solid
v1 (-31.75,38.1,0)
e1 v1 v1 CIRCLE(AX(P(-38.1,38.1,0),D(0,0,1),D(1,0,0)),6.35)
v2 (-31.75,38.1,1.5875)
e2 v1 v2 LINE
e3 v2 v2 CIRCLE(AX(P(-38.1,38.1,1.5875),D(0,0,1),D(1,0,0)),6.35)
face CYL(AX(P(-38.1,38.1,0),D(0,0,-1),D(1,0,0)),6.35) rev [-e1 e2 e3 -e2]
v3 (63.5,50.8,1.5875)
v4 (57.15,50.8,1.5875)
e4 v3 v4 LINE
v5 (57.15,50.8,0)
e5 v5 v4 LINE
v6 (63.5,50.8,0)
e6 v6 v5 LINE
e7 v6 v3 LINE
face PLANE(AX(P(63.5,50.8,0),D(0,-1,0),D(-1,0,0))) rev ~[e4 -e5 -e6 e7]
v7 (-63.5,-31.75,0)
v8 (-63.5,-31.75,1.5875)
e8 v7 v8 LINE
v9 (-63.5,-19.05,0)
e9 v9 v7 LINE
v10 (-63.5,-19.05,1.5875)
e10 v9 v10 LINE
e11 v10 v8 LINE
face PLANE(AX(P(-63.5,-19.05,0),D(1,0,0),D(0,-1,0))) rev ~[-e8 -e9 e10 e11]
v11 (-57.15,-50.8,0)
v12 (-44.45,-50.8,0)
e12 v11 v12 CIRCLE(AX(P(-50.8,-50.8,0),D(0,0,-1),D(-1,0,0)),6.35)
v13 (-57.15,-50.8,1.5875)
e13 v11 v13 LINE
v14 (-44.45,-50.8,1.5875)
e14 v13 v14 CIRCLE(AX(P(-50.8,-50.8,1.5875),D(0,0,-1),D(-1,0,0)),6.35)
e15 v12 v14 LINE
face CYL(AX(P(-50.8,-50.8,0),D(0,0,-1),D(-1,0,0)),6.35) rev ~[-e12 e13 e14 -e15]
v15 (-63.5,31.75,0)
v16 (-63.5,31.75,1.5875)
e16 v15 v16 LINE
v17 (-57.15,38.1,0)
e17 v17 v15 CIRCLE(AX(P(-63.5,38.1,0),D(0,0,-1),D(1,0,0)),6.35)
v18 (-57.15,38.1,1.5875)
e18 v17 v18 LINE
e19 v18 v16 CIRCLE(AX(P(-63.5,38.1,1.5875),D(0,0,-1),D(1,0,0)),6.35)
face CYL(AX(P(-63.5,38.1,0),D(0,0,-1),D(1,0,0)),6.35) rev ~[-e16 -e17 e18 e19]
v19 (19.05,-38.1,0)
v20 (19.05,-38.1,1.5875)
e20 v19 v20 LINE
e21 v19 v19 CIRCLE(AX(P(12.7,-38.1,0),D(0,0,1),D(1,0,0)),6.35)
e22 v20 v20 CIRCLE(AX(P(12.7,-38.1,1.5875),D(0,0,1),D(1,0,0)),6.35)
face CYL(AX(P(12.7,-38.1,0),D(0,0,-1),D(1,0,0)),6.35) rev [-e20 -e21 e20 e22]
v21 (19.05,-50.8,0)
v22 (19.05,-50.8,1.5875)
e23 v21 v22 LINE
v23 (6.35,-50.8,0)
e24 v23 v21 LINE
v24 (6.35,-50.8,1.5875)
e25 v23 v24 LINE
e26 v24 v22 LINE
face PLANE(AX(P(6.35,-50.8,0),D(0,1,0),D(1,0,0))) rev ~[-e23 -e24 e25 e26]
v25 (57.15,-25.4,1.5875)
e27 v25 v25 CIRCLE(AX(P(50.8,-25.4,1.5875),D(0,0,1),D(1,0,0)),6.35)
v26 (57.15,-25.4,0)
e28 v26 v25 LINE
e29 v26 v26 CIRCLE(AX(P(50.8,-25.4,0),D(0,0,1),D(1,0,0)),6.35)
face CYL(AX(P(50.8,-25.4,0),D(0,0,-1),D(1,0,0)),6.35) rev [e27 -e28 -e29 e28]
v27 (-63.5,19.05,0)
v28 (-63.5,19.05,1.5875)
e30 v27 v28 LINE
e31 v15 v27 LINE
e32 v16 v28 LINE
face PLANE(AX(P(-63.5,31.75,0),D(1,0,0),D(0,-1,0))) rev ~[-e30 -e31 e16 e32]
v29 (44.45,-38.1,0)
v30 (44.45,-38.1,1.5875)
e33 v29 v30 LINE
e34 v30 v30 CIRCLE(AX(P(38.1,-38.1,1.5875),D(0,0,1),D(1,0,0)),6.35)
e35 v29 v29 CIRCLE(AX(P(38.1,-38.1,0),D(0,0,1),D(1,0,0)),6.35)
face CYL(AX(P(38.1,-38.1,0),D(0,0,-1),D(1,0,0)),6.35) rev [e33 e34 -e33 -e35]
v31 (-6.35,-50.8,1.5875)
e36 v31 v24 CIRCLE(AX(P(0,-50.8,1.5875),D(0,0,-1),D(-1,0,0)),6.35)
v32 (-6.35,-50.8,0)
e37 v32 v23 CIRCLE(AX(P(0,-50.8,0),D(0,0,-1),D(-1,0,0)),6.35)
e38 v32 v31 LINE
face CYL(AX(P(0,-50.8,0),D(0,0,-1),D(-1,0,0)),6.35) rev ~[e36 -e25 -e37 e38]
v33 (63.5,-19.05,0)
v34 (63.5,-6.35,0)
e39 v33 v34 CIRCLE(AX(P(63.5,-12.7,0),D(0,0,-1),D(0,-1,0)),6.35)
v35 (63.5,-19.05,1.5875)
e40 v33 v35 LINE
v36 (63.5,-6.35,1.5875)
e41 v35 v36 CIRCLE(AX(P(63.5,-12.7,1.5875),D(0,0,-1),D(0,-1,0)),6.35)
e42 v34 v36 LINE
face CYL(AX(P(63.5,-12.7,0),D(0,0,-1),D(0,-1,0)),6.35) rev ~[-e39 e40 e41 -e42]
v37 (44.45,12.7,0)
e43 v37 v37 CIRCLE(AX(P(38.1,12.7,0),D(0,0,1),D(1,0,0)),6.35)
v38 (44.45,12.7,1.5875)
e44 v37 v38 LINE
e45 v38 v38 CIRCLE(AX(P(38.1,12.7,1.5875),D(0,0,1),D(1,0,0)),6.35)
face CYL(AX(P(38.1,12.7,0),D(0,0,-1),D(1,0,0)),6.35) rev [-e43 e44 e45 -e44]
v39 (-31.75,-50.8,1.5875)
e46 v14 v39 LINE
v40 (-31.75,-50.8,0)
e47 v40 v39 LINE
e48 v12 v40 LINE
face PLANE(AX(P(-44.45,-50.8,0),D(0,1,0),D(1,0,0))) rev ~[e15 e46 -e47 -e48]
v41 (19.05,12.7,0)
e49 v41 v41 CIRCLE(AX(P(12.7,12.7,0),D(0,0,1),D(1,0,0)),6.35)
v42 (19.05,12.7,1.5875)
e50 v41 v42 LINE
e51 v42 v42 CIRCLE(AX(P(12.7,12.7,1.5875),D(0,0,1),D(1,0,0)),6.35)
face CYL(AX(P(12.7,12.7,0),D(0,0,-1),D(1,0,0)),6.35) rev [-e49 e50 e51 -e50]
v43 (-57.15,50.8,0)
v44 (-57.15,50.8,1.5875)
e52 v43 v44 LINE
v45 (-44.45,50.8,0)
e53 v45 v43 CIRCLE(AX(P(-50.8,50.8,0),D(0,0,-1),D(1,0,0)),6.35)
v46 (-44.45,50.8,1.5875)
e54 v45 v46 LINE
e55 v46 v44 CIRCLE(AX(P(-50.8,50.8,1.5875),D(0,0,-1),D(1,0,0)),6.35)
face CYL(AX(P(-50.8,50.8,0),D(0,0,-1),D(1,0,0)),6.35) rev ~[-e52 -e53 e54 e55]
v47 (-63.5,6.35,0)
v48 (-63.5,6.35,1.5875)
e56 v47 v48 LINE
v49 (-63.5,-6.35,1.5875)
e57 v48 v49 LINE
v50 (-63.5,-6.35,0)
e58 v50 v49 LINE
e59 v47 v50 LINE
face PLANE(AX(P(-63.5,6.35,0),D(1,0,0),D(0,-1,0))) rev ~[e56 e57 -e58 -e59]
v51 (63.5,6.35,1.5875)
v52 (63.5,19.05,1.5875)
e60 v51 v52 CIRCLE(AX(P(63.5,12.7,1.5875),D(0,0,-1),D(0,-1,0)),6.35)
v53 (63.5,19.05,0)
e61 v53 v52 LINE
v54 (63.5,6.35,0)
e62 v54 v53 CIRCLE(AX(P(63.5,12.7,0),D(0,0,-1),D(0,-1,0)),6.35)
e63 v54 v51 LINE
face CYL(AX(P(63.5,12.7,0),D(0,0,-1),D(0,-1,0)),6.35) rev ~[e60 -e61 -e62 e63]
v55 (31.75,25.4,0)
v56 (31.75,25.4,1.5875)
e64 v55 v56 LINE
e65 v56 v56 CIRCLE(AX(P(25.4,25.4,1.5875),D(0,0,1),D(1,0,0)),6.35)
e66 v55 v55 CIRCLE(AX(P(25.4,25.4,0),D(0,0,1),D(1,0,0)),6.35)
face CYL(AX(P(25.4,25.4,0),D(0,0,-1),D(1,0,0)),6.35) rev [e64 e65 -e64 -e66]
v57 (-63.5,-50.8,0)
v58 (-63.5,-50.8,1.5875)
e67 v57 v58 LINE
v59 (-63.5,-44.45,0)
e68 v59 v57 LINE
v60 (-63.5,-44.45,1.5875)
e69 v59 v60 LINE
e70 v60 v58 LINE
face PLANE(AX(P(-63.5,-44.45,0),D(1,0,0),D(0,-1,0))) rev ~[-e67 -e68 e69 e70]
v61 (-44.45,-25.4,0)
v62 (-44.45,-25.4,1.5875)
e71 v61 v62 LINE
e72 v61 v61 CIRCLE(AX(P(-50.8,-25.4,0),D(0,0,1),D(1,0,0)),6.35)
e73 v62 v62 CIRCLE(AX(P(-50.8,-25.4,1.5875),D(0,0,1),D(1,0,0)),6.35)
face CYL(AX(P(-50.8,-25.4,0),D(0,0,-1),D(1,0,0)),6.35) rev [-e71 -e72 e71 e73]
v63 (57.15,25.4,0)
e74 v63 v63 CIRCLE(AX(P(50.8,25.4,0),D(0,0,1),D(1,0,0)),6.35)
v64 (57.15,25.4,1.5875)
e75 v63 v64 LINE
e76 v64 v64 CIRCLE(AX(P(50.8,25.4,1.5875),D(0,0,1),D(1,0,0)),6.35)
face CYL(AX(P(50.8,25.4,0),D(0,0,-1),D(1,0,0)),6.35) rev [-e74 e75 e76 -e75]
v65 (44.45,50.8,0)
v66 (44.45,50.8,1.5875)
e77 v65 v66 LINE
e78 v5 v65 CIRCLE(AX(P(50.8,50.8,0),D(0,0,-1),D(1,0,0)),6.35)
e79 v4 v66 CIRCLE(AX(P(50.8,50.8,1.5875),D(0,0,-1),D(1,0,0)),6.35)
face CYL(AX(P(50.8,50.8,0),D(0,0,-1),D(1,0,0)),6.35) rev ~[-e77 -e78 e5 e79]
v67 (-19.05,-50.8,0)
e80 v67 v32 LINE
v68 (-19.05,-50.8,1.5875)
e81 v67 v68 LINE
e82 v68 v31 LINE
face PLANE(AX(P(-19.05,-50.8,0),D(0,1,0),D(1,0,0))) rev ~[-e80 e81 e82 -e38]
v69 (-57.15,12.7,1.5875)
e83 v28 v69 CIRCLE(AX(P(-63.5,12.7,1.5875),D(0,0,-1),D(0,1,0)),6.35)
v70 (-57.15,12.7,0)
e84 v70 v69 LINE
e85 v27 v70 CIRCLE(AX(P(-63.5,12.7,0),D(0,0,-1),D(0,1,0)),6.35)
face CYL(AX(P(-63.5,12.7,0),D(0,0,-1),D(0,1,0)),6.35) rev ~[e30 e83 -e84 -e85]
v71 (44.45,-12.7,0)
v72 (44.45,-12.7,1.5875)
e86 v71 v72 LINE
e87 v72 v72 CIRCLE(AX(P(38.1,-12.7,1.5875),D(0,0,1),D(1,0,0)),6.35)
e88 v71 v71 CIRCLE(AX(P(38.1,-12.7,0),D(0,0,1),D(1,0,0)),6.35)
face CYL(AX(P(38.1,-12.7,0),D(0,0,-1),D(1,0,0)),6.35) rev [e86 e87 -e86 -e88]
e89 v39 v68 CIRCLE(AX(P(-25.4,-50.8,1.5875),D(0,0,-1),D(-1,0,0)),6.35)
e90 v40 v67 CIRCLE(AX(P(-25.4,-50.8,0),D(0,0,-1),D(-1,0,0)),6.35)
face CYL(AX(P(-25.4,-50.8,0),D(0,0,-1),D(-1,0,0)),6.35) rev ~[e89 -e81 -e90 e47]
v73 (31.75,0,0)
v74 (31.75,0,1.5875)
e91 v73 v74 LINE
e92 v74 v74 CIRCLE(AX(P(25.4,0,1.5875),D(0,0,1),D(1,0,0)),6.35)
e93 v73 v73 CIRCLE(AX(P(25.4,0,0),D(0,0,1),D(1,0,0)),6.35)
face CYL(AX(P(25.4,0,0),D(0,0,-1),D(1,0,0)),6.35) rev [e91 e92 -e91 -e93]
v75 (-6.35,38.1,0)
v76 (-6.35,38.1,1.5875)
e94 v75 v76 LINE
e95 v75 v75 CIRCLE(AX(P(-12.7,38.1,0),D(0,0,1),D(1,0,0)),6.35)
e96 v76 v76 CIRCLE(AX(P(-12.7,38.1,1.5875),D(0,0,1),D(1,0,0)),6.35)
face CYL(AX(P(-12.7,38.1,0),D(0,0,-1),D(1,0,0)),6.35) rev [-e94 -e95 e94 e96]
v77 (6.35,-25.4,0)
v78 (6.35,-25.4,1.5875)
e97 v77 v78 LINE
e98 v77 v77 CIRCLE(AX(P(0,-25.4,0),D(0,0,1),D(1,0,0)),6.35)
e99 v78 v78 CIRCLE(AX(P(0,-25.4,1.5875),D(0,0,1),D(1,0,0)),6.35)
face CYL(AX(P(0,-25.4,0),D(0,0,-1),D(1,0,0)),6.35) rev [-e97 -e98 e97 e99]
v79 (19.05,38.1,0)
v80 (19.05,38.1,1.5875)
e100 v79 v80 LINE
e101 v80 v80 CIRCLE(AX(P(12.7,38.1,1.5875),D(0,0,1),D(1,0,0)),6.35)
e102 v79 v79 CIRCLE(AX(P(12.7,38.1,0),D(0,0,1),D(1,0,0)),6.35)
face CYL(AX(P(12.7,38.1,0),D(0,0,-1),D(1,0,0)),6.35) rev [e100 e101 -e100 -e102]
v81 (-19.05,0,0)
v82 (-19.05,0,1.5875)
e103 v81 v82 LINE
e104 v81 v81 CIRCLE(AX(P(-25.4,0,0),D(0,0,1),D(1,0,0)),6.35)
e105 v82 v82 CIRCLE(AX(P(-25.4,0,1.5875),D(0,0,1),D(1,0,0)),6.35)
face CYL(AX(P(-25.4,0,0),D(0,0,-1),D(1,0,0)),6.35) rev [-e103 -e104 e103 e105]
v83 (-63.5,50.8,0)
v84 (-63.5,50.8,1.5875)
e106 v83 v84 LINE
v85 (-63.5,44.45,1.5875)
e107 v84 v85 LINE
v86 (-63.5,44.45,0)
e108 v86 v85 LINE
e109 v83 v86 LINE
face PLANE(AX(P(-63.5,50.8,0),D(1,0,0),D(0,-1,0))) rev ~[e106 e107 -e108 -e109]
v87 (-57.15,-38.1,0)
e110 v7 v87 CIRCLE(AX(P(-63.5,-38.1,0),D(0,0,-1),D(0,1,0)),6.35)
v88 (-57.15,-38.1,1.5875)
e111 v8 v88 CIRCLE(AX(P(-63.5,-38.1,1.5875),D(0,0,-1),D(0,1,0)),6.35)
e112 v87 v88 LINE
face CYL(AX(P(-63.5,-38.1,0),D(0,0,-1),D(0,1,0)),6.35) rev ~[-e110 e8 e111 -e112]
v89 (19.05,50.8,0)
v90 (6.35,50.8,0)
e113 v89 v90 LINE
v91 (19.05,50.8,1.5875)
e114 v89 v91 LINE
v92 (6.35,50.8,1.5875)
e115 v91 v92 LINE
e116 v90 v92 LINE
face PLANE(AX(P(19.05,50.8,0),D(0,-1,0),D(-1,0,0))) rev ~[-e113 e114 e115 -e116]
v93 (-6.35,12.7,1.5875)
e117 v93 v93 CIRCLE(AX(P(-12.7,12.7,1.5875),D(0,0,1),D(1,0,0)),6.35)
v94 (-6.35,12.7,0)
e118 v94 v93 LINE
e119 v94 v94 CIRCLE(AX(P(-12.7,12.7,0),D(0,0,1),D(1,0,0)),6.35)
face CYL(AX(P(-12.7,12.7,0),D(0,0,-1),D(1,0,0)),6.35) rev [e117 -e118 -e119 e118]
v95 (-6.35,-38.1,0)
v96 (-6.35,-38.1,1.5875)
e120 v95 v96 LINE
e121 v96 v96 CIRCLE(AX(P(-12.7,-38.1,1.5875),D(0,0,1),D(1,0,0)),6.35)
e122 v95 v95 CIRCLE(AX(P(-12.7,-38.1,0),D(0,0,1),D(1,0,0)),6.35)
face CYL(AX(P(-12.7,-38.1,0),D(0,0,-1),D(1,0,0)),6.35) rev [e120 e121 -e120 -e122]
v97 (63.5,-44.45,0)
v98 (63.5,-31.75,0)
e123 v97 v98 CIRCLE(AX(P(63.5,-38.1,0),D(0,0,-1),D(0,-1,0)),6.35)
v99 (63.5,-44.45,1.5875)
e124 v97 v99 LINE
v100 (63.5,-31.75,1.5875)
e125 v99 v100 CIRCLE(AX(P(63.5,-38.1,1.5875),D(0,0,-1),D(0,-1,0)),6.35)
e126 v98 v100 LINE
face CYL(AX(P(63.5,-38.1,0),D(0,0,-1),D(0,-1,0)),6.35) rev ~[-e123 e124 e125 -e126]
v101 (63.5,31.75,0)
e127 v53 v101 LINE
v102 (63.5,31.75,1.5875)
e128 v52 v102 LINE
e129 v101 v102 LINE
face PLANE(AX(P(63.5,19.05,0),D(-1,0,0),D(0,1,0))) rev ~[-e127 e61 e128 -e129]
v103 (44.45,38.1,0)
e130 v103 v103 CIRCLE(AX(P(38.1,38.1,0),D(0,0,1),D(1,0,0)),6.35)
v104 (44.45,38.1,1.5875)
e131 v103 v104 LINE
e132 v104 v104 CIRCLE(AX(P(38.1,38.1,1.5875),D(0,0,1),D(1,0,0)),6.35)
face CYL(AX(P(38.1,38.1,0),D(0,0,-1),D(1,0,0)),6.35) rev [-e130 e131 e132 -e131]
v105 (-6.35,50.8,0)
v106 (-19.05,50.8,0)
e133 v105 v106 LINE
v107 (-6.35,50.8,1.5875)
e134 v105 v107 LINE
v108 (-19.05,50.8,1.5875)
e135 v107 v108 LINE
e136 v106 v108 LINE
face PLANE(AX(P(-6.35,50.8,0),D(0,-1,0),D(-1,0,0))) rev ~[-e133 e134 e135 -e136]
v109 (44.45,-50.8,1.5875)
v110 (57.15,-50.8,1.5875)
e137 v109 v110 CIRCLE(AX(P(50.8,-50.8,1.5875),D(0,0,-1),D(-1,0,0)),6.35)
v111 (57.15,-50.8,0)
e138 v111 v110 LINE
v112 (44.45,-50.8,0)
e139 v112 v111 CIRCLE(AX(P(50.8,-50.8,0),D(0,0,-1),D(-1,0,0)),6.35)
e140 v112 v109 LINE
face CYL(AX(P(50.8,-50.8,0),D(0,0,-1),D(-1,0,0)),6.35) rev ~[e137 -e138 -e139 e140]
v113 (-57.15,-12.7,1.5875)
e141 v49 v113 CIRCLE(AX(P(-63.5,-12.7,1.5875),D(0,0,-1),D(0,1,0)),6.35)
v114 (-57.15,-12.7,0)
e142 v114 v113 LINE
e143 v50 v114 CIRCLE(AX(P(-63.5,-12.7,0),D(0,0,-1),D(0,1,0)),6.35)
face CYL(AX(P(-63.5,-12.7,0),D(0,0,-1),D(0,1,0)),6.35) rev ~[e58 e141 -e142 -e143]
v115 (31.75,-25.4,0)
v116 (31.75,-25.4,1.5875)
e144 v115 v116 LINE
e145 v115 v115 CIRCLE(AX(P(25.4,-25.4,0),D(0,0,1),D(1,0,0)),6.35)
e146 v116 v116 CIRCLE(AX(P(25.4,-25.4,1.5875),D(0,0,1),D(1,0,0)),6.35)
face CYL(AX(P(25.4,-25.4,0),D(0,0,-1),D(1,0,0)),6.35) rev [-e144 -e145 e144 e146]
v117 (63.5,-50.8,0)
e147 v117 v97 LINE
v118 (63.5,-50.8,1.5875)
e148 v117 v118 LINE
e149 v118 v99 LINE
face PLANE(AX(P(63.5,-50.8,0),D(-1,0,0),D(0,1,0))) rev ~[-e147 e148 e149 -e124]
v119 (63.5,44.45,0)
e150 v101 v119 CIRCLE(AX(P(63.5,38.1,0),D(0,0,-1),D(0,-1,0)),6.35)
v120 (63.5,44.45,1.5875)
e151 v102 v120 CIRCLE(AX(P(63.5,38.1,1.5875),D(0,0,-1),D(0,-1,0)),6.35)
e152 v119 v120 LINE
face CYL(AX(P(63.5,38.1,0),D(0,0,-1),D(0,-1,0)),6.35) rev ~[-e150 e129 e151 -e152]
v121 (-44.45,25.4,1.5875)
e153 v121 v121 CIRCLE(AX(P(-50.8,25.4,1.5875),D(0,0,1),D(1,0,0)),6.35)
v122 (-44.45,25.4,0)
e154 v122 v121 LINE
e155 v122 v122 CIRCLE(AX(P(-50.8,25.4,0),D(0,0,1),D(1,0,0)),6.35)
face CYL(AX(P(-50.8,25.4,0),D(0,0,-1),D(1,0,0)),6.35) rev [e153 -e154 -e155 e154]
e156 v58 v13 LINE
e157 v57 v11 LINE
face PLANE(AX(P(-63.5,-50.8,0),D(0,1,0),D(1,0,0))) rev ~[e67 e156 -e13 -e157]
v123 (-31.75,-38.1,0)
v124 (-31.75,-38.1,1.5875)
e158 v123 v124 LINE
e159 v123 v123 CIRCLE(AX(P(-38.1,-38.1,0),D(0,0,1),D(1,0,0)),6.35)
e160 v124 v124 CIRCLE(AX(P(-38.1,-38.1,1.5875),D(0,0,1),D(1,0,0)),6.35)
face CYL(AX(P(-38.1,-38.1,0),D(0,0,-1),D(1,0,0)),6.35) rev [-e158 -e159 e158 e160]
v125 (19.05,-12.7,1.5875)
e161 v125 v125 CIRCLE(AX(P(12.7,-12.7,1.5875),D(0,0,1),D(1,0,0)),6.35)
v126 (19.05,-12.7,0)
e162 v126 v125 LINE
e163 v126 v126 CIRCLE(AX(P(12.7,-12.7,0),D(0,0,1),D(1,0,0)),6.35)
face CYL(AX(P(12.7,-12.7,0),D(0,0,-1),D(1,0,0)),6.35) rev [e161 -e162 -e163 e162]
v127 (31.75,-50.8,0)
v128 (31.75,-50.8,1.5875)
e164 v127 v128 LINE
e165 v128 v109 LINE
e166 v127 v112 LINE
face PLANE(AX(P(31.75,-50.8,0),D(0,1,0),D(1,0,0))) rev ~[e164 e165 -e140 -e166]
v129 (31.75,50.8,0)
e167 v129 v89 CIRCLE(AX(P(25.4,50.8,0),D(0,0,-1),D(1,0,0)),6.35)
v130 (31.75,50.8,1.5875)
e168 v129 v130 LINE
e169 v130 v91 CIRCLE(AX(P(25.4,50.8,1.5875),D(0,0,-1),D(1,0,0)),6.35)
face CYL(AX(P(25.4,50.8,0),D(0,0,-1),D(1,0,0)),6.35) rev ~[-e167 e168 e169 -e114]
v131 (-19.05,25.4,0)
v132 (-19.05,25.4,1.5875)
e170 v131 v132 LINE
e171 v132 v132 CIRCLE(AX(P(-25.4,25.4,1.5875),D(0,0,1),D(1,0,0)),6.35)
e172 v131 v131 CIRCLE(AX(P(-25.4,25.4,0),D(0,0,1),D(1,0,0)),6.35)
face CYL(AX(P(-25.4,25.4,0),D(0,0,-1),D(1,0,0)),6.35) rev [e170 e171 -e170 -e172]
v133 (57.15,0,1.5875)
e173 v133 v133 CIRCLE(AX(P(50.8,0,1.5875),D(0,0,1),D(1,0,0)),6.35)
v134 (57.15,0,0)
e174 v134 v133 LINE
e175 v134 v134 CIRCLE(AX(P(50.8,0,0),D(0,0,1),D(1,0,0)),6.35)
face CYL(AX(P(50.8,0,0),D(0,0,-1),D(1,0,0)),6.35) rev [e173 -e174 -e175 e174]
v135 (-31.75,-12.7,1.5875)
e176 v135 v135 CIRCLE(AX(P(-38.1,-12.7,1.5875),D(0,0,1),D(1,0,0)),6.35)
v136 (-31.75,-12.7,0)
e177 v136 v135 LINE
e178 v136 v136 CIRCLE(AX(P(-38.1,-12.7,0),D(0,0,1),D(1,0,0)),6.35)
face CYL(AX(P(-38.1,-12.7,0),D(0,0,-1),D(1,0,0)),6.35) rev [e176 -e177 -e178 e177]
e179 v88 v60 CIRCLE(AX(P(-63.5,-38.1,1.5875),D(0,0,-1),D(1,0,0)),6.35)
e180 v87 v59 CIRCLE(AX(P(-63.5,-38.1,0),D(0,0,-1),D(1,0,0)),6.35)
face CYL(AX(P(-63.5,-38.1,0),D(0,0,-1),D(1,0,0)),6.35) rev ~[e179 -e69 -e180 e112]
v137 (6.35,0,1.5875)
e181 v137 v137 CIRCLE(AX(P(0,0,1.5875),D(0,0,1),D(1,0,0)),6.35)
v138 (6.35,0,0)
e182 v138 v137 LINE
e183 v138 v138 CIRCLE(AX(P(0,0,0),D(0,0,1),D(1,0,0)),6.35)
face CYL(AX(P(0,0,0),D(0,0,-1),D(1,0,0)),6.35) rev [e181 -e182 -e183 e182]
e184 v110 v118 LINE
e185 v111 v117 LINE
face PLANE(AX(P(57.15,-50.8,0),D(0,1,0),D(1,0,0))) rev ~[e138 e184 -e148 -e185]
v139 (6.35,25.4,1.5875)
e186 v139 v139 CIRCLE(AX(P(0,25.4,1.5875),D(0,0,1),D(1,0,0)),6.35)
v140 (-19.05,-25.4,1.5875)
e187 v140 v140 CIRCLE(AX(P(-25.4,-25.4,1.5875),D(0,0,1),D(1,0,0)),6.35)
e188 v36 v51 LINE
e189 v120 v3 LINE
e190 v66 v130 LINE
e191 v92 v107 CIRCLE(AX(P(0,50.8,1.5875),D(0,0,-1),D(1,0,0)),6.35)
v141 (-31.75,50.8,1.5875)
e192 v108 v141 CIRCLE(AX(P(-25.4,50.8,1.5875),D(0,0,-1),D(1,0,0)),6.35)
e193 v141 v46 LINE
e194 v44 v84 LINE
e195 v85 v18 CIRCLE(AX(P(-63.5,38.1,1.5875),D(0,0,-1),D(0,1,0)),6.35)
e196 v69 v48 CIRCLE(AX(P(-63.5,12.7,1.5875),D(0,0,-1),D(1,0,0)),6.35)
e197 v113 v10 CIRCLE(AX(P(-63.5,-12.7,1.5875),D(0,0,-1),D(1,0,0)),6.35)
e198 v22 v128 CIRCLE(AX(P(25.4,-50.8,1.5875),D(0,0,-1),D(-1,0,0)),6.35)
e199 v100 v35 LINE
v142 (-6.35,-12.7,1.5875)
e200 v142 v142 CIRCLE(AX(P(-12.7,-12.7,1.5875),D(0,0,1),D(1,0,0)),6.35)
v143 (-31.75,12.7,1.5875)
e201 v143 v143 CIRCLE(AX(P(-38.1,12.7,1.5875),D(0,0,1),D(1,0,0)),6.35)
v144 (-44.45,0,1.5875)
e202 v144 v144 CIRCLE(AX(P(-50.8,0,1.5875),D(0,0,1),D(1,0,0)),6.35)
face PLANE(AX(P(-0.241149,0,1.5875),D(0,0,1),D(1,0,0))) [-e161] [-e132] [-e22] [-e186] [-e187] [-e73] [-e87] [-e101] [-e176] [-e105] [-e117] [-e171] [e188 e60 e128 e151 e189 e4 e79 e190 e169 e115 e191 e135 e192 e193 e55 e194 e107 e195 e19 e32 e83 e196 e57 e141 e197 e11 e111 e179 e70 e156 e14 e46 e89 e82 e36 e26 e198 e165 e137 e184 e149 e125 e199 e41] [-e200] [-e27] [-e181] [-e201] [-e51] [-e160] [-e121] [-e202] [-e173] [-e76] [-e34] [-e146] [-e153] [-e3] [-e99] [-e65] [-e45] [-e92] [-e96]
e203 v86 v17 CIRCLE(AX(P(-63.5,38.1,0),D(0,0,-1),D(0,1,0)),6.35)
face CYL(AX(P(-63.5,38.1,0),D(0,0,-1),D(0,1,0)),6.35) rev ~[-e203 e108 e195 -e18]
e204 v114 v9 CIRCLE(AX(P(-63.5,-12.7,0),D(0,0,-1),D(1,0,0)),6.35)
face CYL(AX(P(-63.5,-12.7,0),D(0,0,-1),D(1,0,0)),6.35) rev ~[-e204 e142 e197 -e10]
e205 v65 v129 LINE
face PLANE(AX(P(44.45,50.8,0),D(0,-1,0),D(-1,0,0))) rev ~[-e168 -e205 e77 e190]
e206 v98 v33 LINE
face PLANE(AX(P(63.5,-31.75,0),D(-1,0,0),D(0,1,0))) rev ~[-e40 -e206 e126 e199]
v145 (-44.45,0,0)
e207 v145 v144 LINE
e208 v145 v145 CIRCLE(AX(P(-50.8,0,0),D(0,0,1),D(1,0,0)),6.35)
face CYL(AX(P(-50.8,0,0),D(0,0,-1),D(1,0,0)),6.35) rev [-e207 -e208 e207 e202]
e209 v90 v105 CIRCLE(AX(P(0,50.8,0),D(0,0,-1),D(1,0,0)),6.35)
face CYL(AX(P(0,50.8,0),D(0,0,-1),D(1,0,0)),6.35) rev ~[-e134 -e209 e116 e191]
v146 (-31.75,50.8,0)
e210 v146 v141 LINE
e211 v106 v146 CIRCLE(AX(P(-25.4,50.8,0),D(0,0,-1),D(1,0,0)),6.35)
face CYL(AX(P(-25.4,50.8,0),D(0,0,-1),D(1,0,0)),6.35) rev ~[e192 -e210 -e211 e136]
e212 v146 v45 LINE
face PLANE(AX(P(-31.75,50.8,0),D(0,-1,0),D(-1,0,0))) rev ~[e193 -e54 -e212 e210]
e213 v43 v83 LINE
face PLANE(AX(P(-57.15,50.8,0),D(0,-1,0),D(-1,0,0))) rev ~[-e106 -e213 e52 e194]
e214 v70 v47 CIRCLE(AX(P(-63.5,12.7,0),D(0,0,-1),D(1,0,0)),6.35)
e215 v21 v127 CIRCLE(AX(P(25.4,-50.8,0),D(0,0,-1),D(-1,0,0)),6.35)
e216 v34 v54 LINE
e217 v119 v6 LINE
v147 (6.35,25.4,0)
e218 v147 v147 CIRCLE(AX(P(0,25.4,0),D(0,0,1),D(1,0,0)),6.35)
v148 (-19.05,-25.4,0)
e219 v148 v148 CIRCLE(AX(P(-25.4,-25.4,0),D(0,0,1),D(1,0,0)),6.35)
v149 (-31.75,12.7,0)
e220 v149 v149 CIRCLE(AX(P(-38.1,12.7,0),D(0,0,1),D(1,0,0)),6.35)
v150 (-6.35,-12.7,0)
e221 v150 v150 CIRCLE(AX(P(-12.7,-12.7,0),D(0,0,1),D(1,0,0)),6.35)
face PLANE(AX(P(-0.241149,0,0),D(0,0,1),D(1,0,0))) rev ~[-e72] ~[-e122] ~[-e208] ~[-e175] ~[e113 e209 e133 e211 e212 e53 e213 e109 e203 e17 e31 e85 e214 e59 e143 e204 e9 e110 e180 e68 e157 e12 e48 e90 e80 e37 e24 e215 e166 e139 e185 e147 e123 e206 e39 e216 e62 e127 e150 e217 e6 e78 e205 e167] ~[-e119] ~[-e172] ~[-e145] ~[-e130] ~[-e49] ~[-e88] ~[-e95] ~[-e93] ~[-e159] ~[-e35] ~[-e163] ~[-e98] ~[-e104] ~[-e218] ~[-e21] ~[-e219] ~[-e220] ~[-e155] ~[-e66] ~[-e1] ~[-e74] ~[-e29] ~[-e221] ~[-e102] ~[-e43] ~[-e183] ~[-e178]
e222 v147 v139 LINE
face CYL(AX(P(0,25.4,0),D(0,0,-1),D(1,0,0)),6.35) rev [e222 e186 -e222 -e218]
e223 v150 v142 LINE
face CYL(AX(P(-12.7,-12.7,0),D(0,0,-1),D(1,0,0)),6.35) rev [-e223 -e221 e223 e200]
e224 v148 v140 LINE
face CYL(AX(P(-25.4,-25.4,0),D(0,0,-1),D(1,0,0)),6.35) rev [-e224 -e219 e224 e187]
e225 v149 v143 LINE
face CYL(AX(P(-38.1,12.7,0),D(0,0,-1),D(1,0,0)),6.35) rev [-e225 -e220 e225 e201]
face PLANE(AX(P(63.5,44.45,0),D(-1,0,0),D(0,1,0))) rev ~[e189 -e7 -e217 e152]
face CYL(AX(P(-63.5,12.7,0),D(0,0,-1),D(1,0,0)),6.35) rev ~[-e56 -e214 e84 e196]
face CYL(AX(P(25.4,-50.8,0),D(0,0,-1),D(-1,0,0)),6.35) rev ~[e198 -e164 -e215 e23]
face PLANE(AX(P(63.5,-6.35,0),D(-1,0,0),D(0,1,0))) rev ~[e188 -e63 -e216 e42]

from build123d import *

# Parameters (mm, degrees)
F0_R     = 6.35
F1_DEPTH = 1.5875


with BuildPart() as f1:
    # F0 (on Top) → F1 (new body)
    with BuildSketch(Plane.XY):
        with BuildLine():
            ThreePointArc((44.45, -50.8), (50.8, -44.45), (57.15, -50.8))
            Line((57.15, -50.8), (63.5, -50.8))
            Line((63.5, -50.8), (63.5, -44.45))
            ThreePointArc((63.5, -44.45), (57.15, -38.1), (63.5, -31.75))
            Line((63.5, -31.75), (63.5, -19.05))
            ThreePointArc((63.5, -19.05), (57.15, -12.7), (63.5, -6.35))
            Line((63.5, -6.35), (63.5, 6.35))
            ThreePointArc((63.5, 6.35), (57.15, 12.7), (63.5, 19.05))
            Line((63.5, 19.05), (63.5, 31.75))
            ThreePointArc((63.5, 31.75), (57.15, 38.1), (63.5, 44.45))
            Line((63.5, 44.45), (63.5, 50.8))
            Line((63.5, 50.8), (57.15, 50.8))
            ThreePointArc((57.15, 50.8), (50.8, 44.45), (44.45, 50.8))
            Line((44.45, 50.8), (31.75, 50.8))
            ThreePointArc((31.75, 50.8), (25.4, 44.45), (19.05, 50.8))
            Line((19.05, 50.8), (6.35, 50.8))
            ThreePointArc((6.35, 50.8), (0, 44.45), (-6.35, 50.8))
            Line((-6.35, 50.8), (-19.05, 50.8))
            ThreePointArc((-19.05, 50.8), (-25.4, 44.45), (-31.75, 50.8))
            Line((-31.75, 50.8), (-44.45, 50.8))
            ThreePointArc((-44.45, 50.8), (-50.8, 44.45), (-57.15, 50.8))
            Line((-57.15, 50.8), (-63.5, 50.8))
            Line((-63.5, 50.8), (-63.5, 44.45))
            ThreePointArc((-63.5, 44.45), (-59.0098719395, 42.5901280605), (-57.15, 38.1))
            ThreePointArc((-57.15, 38.1), (-59.0098719395, 33.6098719395), (-63.5, 31.75))
            Line((-63.5, 31.75), (-63.5, 19.05))
            ThreePointArc((-63.5, 19.05), (-59.0098719395, 17.1901280605), (-57.15, 12.7))
            ThreePointArc((-57.15, 12.7), (-59.0098719395, 8.2098719395), (-63.5, 6.35))
            Line((-63.5, 6.35), (-63.5, -6.35))
            ThreePointArc((-63.5, -6.35), (-59.0098719395, -8.2098719395), (-57.15, -12.7))
            ThreePointArc((-57.15, -12.7), (-59.0098719395, -17.1901280605), (-63.5, -19.05))
            Line((-63.5, -19.05), (-63.5, -31.75))
            ThreePointArc((-63.5, -31.75), (-59.0098719395, -33.6098719395), (-57.15, -38.1))
            ThreePointArc((-57.15, -38.1), (-59.0098719395, -42.5901280605), (-63.5, -44.45))
            Line((-63.5, -44.45), (-63.5, -50.8))
            Line((-63.5, -50.8), (-57.15, -50.8))
            ThreePointArc((-57.15, -50.8), (-50.8, -44.45), (-44.45, -50.8))
            Line((-44.45, -50.8), (-31.75, -50.8))
            ThreePointArc((-31.75, -50.8), (-25.4, -44.45), (-19.05, -50.8))
            Line((-19.05, -50.8), (-6.35, -50.8))
            ThreePointArc((-6.35, -50.8), (0, -44.45), (6.35, -50.8))
            Line((6.35, -50.8), (19.05, -50.8))
            ThreePointArc((19.05, -50.8), (25.4, -44.45), (31.75, -50.8))
            Line((31.75, -50.8), (44.45, -50.8))
        make_face()
        with Locations((-38.1, -38.1)):
            Circle(F0_R, mode=Mode.SUBTRACT)
        with Locations((-12.7, -38.1)):
            Circle(F0_R, mode=Mode.SUBTRACT)
        with Locations((-50.8, -25.4)):
            Circle(F0_R, mode=Mode.SUBTRACT)
        with Locations((-38.1, -12.7)):
            Circle(F0_R, mode=Mode.SUBTRACT)
        with Locations((-25.4, -25.4)):
            Circle(F0_R, mode=Mode.SUBTRACT)
        with Locations((-12.7, -12.7)):
            Circle(F0_R, mode=Mode.SUBTRACT)
        with Locations((12.7, -38.1)):
            Circle(F0_R, mode=Mode.SUBTRACT)
        with Locations((38.1, -38.1)):
            Circle(F0_R, mode=Mode.SUBTRACT)
        with Locations((0, -25.4)):
            Circle(F0_R, mode=Mode.SUBTRACT)
        with Locations((25.4, -25.4)):
            Circle(F0_R, mode=Mode.SUBTRACT)
        with Locations((12.7, -12.7)):
            Circle(F0_R, mode=Mode.SUBTRACT)
        with Locations((50.8, -25.4)):
            Circle(F0_R, mode=Mode.SUBTRACT)
        with Locations((38.1, -12.7)):
            Circle(F0_R, mode=Mode.SUBTRACT)
        with Locations((-50.8, 0)):
            Circle(F0_R, mode=Mode.SUBTRACT)
        with Locations((-38.1, 12.7)):
            Circle(F0_R, mode=Mode.SUBTRACT)
        with Locations((-50.8, 25.4)):
            Circle(F0_R, mode=Mode.SUBTRACT)
        with Locations((-25.4, 0)):
            Circle(F0_R, mode=Mode.SUBTRACT)
        with Locations((-12.7, 12.7)):
            Circle(F0_R, mode=Mode.SUBTRACT)
        with Locations((-25.4, 25.4)):
            Circle(F0_R, mode=Mode.SUBTRACT)
        with Locations((-38.1, 38.1)):
            Circle(F0_R, mode=Mode.SUBTRACT)
        with Locations((-12.7, 38.1)):
            Circle(F0_R, mode=Mode.SUBTRACT)
        Circle(F0_R, mode=Mode.SUBTRACT)
        with Locations((12.7, 12.7)):
            Circle(F0_R, mode=Mode.SUBTRACT)
        with Locations((25.4, 0)):
            Circle(F0_R, mode=Mode.SUBTRACT)
        with Locations((0, 25.4)):
            Circle(F0_R, mode=Mode.SUBTRACT)
        with Locations((25.4, 25.4)):
            Circle(F0_R, mode=Mode.SUBTRACT)
        with Locations((50.8, 0)):
            Circle(F0_R, mode=Mode.SUBTRACT)
        with Locations((38.1, 12.7)):
            Circle(F0_R, mode=Mode.SUBTRACT)
        with Locations((50.8, 25.4)):
            Circle(F0_R, mode=Mode.SUBTRACT)
        with Locations((12.7, 38.1)):
            Circle(F0_R, mode=Mode.SUBTRACT)
        with Locations((38.1, 38.1)):
            Circle(F0_R, mode=Mode.SUBTRACT)
    extrude(amount=F1_DEPTH)


solid = f1.part
